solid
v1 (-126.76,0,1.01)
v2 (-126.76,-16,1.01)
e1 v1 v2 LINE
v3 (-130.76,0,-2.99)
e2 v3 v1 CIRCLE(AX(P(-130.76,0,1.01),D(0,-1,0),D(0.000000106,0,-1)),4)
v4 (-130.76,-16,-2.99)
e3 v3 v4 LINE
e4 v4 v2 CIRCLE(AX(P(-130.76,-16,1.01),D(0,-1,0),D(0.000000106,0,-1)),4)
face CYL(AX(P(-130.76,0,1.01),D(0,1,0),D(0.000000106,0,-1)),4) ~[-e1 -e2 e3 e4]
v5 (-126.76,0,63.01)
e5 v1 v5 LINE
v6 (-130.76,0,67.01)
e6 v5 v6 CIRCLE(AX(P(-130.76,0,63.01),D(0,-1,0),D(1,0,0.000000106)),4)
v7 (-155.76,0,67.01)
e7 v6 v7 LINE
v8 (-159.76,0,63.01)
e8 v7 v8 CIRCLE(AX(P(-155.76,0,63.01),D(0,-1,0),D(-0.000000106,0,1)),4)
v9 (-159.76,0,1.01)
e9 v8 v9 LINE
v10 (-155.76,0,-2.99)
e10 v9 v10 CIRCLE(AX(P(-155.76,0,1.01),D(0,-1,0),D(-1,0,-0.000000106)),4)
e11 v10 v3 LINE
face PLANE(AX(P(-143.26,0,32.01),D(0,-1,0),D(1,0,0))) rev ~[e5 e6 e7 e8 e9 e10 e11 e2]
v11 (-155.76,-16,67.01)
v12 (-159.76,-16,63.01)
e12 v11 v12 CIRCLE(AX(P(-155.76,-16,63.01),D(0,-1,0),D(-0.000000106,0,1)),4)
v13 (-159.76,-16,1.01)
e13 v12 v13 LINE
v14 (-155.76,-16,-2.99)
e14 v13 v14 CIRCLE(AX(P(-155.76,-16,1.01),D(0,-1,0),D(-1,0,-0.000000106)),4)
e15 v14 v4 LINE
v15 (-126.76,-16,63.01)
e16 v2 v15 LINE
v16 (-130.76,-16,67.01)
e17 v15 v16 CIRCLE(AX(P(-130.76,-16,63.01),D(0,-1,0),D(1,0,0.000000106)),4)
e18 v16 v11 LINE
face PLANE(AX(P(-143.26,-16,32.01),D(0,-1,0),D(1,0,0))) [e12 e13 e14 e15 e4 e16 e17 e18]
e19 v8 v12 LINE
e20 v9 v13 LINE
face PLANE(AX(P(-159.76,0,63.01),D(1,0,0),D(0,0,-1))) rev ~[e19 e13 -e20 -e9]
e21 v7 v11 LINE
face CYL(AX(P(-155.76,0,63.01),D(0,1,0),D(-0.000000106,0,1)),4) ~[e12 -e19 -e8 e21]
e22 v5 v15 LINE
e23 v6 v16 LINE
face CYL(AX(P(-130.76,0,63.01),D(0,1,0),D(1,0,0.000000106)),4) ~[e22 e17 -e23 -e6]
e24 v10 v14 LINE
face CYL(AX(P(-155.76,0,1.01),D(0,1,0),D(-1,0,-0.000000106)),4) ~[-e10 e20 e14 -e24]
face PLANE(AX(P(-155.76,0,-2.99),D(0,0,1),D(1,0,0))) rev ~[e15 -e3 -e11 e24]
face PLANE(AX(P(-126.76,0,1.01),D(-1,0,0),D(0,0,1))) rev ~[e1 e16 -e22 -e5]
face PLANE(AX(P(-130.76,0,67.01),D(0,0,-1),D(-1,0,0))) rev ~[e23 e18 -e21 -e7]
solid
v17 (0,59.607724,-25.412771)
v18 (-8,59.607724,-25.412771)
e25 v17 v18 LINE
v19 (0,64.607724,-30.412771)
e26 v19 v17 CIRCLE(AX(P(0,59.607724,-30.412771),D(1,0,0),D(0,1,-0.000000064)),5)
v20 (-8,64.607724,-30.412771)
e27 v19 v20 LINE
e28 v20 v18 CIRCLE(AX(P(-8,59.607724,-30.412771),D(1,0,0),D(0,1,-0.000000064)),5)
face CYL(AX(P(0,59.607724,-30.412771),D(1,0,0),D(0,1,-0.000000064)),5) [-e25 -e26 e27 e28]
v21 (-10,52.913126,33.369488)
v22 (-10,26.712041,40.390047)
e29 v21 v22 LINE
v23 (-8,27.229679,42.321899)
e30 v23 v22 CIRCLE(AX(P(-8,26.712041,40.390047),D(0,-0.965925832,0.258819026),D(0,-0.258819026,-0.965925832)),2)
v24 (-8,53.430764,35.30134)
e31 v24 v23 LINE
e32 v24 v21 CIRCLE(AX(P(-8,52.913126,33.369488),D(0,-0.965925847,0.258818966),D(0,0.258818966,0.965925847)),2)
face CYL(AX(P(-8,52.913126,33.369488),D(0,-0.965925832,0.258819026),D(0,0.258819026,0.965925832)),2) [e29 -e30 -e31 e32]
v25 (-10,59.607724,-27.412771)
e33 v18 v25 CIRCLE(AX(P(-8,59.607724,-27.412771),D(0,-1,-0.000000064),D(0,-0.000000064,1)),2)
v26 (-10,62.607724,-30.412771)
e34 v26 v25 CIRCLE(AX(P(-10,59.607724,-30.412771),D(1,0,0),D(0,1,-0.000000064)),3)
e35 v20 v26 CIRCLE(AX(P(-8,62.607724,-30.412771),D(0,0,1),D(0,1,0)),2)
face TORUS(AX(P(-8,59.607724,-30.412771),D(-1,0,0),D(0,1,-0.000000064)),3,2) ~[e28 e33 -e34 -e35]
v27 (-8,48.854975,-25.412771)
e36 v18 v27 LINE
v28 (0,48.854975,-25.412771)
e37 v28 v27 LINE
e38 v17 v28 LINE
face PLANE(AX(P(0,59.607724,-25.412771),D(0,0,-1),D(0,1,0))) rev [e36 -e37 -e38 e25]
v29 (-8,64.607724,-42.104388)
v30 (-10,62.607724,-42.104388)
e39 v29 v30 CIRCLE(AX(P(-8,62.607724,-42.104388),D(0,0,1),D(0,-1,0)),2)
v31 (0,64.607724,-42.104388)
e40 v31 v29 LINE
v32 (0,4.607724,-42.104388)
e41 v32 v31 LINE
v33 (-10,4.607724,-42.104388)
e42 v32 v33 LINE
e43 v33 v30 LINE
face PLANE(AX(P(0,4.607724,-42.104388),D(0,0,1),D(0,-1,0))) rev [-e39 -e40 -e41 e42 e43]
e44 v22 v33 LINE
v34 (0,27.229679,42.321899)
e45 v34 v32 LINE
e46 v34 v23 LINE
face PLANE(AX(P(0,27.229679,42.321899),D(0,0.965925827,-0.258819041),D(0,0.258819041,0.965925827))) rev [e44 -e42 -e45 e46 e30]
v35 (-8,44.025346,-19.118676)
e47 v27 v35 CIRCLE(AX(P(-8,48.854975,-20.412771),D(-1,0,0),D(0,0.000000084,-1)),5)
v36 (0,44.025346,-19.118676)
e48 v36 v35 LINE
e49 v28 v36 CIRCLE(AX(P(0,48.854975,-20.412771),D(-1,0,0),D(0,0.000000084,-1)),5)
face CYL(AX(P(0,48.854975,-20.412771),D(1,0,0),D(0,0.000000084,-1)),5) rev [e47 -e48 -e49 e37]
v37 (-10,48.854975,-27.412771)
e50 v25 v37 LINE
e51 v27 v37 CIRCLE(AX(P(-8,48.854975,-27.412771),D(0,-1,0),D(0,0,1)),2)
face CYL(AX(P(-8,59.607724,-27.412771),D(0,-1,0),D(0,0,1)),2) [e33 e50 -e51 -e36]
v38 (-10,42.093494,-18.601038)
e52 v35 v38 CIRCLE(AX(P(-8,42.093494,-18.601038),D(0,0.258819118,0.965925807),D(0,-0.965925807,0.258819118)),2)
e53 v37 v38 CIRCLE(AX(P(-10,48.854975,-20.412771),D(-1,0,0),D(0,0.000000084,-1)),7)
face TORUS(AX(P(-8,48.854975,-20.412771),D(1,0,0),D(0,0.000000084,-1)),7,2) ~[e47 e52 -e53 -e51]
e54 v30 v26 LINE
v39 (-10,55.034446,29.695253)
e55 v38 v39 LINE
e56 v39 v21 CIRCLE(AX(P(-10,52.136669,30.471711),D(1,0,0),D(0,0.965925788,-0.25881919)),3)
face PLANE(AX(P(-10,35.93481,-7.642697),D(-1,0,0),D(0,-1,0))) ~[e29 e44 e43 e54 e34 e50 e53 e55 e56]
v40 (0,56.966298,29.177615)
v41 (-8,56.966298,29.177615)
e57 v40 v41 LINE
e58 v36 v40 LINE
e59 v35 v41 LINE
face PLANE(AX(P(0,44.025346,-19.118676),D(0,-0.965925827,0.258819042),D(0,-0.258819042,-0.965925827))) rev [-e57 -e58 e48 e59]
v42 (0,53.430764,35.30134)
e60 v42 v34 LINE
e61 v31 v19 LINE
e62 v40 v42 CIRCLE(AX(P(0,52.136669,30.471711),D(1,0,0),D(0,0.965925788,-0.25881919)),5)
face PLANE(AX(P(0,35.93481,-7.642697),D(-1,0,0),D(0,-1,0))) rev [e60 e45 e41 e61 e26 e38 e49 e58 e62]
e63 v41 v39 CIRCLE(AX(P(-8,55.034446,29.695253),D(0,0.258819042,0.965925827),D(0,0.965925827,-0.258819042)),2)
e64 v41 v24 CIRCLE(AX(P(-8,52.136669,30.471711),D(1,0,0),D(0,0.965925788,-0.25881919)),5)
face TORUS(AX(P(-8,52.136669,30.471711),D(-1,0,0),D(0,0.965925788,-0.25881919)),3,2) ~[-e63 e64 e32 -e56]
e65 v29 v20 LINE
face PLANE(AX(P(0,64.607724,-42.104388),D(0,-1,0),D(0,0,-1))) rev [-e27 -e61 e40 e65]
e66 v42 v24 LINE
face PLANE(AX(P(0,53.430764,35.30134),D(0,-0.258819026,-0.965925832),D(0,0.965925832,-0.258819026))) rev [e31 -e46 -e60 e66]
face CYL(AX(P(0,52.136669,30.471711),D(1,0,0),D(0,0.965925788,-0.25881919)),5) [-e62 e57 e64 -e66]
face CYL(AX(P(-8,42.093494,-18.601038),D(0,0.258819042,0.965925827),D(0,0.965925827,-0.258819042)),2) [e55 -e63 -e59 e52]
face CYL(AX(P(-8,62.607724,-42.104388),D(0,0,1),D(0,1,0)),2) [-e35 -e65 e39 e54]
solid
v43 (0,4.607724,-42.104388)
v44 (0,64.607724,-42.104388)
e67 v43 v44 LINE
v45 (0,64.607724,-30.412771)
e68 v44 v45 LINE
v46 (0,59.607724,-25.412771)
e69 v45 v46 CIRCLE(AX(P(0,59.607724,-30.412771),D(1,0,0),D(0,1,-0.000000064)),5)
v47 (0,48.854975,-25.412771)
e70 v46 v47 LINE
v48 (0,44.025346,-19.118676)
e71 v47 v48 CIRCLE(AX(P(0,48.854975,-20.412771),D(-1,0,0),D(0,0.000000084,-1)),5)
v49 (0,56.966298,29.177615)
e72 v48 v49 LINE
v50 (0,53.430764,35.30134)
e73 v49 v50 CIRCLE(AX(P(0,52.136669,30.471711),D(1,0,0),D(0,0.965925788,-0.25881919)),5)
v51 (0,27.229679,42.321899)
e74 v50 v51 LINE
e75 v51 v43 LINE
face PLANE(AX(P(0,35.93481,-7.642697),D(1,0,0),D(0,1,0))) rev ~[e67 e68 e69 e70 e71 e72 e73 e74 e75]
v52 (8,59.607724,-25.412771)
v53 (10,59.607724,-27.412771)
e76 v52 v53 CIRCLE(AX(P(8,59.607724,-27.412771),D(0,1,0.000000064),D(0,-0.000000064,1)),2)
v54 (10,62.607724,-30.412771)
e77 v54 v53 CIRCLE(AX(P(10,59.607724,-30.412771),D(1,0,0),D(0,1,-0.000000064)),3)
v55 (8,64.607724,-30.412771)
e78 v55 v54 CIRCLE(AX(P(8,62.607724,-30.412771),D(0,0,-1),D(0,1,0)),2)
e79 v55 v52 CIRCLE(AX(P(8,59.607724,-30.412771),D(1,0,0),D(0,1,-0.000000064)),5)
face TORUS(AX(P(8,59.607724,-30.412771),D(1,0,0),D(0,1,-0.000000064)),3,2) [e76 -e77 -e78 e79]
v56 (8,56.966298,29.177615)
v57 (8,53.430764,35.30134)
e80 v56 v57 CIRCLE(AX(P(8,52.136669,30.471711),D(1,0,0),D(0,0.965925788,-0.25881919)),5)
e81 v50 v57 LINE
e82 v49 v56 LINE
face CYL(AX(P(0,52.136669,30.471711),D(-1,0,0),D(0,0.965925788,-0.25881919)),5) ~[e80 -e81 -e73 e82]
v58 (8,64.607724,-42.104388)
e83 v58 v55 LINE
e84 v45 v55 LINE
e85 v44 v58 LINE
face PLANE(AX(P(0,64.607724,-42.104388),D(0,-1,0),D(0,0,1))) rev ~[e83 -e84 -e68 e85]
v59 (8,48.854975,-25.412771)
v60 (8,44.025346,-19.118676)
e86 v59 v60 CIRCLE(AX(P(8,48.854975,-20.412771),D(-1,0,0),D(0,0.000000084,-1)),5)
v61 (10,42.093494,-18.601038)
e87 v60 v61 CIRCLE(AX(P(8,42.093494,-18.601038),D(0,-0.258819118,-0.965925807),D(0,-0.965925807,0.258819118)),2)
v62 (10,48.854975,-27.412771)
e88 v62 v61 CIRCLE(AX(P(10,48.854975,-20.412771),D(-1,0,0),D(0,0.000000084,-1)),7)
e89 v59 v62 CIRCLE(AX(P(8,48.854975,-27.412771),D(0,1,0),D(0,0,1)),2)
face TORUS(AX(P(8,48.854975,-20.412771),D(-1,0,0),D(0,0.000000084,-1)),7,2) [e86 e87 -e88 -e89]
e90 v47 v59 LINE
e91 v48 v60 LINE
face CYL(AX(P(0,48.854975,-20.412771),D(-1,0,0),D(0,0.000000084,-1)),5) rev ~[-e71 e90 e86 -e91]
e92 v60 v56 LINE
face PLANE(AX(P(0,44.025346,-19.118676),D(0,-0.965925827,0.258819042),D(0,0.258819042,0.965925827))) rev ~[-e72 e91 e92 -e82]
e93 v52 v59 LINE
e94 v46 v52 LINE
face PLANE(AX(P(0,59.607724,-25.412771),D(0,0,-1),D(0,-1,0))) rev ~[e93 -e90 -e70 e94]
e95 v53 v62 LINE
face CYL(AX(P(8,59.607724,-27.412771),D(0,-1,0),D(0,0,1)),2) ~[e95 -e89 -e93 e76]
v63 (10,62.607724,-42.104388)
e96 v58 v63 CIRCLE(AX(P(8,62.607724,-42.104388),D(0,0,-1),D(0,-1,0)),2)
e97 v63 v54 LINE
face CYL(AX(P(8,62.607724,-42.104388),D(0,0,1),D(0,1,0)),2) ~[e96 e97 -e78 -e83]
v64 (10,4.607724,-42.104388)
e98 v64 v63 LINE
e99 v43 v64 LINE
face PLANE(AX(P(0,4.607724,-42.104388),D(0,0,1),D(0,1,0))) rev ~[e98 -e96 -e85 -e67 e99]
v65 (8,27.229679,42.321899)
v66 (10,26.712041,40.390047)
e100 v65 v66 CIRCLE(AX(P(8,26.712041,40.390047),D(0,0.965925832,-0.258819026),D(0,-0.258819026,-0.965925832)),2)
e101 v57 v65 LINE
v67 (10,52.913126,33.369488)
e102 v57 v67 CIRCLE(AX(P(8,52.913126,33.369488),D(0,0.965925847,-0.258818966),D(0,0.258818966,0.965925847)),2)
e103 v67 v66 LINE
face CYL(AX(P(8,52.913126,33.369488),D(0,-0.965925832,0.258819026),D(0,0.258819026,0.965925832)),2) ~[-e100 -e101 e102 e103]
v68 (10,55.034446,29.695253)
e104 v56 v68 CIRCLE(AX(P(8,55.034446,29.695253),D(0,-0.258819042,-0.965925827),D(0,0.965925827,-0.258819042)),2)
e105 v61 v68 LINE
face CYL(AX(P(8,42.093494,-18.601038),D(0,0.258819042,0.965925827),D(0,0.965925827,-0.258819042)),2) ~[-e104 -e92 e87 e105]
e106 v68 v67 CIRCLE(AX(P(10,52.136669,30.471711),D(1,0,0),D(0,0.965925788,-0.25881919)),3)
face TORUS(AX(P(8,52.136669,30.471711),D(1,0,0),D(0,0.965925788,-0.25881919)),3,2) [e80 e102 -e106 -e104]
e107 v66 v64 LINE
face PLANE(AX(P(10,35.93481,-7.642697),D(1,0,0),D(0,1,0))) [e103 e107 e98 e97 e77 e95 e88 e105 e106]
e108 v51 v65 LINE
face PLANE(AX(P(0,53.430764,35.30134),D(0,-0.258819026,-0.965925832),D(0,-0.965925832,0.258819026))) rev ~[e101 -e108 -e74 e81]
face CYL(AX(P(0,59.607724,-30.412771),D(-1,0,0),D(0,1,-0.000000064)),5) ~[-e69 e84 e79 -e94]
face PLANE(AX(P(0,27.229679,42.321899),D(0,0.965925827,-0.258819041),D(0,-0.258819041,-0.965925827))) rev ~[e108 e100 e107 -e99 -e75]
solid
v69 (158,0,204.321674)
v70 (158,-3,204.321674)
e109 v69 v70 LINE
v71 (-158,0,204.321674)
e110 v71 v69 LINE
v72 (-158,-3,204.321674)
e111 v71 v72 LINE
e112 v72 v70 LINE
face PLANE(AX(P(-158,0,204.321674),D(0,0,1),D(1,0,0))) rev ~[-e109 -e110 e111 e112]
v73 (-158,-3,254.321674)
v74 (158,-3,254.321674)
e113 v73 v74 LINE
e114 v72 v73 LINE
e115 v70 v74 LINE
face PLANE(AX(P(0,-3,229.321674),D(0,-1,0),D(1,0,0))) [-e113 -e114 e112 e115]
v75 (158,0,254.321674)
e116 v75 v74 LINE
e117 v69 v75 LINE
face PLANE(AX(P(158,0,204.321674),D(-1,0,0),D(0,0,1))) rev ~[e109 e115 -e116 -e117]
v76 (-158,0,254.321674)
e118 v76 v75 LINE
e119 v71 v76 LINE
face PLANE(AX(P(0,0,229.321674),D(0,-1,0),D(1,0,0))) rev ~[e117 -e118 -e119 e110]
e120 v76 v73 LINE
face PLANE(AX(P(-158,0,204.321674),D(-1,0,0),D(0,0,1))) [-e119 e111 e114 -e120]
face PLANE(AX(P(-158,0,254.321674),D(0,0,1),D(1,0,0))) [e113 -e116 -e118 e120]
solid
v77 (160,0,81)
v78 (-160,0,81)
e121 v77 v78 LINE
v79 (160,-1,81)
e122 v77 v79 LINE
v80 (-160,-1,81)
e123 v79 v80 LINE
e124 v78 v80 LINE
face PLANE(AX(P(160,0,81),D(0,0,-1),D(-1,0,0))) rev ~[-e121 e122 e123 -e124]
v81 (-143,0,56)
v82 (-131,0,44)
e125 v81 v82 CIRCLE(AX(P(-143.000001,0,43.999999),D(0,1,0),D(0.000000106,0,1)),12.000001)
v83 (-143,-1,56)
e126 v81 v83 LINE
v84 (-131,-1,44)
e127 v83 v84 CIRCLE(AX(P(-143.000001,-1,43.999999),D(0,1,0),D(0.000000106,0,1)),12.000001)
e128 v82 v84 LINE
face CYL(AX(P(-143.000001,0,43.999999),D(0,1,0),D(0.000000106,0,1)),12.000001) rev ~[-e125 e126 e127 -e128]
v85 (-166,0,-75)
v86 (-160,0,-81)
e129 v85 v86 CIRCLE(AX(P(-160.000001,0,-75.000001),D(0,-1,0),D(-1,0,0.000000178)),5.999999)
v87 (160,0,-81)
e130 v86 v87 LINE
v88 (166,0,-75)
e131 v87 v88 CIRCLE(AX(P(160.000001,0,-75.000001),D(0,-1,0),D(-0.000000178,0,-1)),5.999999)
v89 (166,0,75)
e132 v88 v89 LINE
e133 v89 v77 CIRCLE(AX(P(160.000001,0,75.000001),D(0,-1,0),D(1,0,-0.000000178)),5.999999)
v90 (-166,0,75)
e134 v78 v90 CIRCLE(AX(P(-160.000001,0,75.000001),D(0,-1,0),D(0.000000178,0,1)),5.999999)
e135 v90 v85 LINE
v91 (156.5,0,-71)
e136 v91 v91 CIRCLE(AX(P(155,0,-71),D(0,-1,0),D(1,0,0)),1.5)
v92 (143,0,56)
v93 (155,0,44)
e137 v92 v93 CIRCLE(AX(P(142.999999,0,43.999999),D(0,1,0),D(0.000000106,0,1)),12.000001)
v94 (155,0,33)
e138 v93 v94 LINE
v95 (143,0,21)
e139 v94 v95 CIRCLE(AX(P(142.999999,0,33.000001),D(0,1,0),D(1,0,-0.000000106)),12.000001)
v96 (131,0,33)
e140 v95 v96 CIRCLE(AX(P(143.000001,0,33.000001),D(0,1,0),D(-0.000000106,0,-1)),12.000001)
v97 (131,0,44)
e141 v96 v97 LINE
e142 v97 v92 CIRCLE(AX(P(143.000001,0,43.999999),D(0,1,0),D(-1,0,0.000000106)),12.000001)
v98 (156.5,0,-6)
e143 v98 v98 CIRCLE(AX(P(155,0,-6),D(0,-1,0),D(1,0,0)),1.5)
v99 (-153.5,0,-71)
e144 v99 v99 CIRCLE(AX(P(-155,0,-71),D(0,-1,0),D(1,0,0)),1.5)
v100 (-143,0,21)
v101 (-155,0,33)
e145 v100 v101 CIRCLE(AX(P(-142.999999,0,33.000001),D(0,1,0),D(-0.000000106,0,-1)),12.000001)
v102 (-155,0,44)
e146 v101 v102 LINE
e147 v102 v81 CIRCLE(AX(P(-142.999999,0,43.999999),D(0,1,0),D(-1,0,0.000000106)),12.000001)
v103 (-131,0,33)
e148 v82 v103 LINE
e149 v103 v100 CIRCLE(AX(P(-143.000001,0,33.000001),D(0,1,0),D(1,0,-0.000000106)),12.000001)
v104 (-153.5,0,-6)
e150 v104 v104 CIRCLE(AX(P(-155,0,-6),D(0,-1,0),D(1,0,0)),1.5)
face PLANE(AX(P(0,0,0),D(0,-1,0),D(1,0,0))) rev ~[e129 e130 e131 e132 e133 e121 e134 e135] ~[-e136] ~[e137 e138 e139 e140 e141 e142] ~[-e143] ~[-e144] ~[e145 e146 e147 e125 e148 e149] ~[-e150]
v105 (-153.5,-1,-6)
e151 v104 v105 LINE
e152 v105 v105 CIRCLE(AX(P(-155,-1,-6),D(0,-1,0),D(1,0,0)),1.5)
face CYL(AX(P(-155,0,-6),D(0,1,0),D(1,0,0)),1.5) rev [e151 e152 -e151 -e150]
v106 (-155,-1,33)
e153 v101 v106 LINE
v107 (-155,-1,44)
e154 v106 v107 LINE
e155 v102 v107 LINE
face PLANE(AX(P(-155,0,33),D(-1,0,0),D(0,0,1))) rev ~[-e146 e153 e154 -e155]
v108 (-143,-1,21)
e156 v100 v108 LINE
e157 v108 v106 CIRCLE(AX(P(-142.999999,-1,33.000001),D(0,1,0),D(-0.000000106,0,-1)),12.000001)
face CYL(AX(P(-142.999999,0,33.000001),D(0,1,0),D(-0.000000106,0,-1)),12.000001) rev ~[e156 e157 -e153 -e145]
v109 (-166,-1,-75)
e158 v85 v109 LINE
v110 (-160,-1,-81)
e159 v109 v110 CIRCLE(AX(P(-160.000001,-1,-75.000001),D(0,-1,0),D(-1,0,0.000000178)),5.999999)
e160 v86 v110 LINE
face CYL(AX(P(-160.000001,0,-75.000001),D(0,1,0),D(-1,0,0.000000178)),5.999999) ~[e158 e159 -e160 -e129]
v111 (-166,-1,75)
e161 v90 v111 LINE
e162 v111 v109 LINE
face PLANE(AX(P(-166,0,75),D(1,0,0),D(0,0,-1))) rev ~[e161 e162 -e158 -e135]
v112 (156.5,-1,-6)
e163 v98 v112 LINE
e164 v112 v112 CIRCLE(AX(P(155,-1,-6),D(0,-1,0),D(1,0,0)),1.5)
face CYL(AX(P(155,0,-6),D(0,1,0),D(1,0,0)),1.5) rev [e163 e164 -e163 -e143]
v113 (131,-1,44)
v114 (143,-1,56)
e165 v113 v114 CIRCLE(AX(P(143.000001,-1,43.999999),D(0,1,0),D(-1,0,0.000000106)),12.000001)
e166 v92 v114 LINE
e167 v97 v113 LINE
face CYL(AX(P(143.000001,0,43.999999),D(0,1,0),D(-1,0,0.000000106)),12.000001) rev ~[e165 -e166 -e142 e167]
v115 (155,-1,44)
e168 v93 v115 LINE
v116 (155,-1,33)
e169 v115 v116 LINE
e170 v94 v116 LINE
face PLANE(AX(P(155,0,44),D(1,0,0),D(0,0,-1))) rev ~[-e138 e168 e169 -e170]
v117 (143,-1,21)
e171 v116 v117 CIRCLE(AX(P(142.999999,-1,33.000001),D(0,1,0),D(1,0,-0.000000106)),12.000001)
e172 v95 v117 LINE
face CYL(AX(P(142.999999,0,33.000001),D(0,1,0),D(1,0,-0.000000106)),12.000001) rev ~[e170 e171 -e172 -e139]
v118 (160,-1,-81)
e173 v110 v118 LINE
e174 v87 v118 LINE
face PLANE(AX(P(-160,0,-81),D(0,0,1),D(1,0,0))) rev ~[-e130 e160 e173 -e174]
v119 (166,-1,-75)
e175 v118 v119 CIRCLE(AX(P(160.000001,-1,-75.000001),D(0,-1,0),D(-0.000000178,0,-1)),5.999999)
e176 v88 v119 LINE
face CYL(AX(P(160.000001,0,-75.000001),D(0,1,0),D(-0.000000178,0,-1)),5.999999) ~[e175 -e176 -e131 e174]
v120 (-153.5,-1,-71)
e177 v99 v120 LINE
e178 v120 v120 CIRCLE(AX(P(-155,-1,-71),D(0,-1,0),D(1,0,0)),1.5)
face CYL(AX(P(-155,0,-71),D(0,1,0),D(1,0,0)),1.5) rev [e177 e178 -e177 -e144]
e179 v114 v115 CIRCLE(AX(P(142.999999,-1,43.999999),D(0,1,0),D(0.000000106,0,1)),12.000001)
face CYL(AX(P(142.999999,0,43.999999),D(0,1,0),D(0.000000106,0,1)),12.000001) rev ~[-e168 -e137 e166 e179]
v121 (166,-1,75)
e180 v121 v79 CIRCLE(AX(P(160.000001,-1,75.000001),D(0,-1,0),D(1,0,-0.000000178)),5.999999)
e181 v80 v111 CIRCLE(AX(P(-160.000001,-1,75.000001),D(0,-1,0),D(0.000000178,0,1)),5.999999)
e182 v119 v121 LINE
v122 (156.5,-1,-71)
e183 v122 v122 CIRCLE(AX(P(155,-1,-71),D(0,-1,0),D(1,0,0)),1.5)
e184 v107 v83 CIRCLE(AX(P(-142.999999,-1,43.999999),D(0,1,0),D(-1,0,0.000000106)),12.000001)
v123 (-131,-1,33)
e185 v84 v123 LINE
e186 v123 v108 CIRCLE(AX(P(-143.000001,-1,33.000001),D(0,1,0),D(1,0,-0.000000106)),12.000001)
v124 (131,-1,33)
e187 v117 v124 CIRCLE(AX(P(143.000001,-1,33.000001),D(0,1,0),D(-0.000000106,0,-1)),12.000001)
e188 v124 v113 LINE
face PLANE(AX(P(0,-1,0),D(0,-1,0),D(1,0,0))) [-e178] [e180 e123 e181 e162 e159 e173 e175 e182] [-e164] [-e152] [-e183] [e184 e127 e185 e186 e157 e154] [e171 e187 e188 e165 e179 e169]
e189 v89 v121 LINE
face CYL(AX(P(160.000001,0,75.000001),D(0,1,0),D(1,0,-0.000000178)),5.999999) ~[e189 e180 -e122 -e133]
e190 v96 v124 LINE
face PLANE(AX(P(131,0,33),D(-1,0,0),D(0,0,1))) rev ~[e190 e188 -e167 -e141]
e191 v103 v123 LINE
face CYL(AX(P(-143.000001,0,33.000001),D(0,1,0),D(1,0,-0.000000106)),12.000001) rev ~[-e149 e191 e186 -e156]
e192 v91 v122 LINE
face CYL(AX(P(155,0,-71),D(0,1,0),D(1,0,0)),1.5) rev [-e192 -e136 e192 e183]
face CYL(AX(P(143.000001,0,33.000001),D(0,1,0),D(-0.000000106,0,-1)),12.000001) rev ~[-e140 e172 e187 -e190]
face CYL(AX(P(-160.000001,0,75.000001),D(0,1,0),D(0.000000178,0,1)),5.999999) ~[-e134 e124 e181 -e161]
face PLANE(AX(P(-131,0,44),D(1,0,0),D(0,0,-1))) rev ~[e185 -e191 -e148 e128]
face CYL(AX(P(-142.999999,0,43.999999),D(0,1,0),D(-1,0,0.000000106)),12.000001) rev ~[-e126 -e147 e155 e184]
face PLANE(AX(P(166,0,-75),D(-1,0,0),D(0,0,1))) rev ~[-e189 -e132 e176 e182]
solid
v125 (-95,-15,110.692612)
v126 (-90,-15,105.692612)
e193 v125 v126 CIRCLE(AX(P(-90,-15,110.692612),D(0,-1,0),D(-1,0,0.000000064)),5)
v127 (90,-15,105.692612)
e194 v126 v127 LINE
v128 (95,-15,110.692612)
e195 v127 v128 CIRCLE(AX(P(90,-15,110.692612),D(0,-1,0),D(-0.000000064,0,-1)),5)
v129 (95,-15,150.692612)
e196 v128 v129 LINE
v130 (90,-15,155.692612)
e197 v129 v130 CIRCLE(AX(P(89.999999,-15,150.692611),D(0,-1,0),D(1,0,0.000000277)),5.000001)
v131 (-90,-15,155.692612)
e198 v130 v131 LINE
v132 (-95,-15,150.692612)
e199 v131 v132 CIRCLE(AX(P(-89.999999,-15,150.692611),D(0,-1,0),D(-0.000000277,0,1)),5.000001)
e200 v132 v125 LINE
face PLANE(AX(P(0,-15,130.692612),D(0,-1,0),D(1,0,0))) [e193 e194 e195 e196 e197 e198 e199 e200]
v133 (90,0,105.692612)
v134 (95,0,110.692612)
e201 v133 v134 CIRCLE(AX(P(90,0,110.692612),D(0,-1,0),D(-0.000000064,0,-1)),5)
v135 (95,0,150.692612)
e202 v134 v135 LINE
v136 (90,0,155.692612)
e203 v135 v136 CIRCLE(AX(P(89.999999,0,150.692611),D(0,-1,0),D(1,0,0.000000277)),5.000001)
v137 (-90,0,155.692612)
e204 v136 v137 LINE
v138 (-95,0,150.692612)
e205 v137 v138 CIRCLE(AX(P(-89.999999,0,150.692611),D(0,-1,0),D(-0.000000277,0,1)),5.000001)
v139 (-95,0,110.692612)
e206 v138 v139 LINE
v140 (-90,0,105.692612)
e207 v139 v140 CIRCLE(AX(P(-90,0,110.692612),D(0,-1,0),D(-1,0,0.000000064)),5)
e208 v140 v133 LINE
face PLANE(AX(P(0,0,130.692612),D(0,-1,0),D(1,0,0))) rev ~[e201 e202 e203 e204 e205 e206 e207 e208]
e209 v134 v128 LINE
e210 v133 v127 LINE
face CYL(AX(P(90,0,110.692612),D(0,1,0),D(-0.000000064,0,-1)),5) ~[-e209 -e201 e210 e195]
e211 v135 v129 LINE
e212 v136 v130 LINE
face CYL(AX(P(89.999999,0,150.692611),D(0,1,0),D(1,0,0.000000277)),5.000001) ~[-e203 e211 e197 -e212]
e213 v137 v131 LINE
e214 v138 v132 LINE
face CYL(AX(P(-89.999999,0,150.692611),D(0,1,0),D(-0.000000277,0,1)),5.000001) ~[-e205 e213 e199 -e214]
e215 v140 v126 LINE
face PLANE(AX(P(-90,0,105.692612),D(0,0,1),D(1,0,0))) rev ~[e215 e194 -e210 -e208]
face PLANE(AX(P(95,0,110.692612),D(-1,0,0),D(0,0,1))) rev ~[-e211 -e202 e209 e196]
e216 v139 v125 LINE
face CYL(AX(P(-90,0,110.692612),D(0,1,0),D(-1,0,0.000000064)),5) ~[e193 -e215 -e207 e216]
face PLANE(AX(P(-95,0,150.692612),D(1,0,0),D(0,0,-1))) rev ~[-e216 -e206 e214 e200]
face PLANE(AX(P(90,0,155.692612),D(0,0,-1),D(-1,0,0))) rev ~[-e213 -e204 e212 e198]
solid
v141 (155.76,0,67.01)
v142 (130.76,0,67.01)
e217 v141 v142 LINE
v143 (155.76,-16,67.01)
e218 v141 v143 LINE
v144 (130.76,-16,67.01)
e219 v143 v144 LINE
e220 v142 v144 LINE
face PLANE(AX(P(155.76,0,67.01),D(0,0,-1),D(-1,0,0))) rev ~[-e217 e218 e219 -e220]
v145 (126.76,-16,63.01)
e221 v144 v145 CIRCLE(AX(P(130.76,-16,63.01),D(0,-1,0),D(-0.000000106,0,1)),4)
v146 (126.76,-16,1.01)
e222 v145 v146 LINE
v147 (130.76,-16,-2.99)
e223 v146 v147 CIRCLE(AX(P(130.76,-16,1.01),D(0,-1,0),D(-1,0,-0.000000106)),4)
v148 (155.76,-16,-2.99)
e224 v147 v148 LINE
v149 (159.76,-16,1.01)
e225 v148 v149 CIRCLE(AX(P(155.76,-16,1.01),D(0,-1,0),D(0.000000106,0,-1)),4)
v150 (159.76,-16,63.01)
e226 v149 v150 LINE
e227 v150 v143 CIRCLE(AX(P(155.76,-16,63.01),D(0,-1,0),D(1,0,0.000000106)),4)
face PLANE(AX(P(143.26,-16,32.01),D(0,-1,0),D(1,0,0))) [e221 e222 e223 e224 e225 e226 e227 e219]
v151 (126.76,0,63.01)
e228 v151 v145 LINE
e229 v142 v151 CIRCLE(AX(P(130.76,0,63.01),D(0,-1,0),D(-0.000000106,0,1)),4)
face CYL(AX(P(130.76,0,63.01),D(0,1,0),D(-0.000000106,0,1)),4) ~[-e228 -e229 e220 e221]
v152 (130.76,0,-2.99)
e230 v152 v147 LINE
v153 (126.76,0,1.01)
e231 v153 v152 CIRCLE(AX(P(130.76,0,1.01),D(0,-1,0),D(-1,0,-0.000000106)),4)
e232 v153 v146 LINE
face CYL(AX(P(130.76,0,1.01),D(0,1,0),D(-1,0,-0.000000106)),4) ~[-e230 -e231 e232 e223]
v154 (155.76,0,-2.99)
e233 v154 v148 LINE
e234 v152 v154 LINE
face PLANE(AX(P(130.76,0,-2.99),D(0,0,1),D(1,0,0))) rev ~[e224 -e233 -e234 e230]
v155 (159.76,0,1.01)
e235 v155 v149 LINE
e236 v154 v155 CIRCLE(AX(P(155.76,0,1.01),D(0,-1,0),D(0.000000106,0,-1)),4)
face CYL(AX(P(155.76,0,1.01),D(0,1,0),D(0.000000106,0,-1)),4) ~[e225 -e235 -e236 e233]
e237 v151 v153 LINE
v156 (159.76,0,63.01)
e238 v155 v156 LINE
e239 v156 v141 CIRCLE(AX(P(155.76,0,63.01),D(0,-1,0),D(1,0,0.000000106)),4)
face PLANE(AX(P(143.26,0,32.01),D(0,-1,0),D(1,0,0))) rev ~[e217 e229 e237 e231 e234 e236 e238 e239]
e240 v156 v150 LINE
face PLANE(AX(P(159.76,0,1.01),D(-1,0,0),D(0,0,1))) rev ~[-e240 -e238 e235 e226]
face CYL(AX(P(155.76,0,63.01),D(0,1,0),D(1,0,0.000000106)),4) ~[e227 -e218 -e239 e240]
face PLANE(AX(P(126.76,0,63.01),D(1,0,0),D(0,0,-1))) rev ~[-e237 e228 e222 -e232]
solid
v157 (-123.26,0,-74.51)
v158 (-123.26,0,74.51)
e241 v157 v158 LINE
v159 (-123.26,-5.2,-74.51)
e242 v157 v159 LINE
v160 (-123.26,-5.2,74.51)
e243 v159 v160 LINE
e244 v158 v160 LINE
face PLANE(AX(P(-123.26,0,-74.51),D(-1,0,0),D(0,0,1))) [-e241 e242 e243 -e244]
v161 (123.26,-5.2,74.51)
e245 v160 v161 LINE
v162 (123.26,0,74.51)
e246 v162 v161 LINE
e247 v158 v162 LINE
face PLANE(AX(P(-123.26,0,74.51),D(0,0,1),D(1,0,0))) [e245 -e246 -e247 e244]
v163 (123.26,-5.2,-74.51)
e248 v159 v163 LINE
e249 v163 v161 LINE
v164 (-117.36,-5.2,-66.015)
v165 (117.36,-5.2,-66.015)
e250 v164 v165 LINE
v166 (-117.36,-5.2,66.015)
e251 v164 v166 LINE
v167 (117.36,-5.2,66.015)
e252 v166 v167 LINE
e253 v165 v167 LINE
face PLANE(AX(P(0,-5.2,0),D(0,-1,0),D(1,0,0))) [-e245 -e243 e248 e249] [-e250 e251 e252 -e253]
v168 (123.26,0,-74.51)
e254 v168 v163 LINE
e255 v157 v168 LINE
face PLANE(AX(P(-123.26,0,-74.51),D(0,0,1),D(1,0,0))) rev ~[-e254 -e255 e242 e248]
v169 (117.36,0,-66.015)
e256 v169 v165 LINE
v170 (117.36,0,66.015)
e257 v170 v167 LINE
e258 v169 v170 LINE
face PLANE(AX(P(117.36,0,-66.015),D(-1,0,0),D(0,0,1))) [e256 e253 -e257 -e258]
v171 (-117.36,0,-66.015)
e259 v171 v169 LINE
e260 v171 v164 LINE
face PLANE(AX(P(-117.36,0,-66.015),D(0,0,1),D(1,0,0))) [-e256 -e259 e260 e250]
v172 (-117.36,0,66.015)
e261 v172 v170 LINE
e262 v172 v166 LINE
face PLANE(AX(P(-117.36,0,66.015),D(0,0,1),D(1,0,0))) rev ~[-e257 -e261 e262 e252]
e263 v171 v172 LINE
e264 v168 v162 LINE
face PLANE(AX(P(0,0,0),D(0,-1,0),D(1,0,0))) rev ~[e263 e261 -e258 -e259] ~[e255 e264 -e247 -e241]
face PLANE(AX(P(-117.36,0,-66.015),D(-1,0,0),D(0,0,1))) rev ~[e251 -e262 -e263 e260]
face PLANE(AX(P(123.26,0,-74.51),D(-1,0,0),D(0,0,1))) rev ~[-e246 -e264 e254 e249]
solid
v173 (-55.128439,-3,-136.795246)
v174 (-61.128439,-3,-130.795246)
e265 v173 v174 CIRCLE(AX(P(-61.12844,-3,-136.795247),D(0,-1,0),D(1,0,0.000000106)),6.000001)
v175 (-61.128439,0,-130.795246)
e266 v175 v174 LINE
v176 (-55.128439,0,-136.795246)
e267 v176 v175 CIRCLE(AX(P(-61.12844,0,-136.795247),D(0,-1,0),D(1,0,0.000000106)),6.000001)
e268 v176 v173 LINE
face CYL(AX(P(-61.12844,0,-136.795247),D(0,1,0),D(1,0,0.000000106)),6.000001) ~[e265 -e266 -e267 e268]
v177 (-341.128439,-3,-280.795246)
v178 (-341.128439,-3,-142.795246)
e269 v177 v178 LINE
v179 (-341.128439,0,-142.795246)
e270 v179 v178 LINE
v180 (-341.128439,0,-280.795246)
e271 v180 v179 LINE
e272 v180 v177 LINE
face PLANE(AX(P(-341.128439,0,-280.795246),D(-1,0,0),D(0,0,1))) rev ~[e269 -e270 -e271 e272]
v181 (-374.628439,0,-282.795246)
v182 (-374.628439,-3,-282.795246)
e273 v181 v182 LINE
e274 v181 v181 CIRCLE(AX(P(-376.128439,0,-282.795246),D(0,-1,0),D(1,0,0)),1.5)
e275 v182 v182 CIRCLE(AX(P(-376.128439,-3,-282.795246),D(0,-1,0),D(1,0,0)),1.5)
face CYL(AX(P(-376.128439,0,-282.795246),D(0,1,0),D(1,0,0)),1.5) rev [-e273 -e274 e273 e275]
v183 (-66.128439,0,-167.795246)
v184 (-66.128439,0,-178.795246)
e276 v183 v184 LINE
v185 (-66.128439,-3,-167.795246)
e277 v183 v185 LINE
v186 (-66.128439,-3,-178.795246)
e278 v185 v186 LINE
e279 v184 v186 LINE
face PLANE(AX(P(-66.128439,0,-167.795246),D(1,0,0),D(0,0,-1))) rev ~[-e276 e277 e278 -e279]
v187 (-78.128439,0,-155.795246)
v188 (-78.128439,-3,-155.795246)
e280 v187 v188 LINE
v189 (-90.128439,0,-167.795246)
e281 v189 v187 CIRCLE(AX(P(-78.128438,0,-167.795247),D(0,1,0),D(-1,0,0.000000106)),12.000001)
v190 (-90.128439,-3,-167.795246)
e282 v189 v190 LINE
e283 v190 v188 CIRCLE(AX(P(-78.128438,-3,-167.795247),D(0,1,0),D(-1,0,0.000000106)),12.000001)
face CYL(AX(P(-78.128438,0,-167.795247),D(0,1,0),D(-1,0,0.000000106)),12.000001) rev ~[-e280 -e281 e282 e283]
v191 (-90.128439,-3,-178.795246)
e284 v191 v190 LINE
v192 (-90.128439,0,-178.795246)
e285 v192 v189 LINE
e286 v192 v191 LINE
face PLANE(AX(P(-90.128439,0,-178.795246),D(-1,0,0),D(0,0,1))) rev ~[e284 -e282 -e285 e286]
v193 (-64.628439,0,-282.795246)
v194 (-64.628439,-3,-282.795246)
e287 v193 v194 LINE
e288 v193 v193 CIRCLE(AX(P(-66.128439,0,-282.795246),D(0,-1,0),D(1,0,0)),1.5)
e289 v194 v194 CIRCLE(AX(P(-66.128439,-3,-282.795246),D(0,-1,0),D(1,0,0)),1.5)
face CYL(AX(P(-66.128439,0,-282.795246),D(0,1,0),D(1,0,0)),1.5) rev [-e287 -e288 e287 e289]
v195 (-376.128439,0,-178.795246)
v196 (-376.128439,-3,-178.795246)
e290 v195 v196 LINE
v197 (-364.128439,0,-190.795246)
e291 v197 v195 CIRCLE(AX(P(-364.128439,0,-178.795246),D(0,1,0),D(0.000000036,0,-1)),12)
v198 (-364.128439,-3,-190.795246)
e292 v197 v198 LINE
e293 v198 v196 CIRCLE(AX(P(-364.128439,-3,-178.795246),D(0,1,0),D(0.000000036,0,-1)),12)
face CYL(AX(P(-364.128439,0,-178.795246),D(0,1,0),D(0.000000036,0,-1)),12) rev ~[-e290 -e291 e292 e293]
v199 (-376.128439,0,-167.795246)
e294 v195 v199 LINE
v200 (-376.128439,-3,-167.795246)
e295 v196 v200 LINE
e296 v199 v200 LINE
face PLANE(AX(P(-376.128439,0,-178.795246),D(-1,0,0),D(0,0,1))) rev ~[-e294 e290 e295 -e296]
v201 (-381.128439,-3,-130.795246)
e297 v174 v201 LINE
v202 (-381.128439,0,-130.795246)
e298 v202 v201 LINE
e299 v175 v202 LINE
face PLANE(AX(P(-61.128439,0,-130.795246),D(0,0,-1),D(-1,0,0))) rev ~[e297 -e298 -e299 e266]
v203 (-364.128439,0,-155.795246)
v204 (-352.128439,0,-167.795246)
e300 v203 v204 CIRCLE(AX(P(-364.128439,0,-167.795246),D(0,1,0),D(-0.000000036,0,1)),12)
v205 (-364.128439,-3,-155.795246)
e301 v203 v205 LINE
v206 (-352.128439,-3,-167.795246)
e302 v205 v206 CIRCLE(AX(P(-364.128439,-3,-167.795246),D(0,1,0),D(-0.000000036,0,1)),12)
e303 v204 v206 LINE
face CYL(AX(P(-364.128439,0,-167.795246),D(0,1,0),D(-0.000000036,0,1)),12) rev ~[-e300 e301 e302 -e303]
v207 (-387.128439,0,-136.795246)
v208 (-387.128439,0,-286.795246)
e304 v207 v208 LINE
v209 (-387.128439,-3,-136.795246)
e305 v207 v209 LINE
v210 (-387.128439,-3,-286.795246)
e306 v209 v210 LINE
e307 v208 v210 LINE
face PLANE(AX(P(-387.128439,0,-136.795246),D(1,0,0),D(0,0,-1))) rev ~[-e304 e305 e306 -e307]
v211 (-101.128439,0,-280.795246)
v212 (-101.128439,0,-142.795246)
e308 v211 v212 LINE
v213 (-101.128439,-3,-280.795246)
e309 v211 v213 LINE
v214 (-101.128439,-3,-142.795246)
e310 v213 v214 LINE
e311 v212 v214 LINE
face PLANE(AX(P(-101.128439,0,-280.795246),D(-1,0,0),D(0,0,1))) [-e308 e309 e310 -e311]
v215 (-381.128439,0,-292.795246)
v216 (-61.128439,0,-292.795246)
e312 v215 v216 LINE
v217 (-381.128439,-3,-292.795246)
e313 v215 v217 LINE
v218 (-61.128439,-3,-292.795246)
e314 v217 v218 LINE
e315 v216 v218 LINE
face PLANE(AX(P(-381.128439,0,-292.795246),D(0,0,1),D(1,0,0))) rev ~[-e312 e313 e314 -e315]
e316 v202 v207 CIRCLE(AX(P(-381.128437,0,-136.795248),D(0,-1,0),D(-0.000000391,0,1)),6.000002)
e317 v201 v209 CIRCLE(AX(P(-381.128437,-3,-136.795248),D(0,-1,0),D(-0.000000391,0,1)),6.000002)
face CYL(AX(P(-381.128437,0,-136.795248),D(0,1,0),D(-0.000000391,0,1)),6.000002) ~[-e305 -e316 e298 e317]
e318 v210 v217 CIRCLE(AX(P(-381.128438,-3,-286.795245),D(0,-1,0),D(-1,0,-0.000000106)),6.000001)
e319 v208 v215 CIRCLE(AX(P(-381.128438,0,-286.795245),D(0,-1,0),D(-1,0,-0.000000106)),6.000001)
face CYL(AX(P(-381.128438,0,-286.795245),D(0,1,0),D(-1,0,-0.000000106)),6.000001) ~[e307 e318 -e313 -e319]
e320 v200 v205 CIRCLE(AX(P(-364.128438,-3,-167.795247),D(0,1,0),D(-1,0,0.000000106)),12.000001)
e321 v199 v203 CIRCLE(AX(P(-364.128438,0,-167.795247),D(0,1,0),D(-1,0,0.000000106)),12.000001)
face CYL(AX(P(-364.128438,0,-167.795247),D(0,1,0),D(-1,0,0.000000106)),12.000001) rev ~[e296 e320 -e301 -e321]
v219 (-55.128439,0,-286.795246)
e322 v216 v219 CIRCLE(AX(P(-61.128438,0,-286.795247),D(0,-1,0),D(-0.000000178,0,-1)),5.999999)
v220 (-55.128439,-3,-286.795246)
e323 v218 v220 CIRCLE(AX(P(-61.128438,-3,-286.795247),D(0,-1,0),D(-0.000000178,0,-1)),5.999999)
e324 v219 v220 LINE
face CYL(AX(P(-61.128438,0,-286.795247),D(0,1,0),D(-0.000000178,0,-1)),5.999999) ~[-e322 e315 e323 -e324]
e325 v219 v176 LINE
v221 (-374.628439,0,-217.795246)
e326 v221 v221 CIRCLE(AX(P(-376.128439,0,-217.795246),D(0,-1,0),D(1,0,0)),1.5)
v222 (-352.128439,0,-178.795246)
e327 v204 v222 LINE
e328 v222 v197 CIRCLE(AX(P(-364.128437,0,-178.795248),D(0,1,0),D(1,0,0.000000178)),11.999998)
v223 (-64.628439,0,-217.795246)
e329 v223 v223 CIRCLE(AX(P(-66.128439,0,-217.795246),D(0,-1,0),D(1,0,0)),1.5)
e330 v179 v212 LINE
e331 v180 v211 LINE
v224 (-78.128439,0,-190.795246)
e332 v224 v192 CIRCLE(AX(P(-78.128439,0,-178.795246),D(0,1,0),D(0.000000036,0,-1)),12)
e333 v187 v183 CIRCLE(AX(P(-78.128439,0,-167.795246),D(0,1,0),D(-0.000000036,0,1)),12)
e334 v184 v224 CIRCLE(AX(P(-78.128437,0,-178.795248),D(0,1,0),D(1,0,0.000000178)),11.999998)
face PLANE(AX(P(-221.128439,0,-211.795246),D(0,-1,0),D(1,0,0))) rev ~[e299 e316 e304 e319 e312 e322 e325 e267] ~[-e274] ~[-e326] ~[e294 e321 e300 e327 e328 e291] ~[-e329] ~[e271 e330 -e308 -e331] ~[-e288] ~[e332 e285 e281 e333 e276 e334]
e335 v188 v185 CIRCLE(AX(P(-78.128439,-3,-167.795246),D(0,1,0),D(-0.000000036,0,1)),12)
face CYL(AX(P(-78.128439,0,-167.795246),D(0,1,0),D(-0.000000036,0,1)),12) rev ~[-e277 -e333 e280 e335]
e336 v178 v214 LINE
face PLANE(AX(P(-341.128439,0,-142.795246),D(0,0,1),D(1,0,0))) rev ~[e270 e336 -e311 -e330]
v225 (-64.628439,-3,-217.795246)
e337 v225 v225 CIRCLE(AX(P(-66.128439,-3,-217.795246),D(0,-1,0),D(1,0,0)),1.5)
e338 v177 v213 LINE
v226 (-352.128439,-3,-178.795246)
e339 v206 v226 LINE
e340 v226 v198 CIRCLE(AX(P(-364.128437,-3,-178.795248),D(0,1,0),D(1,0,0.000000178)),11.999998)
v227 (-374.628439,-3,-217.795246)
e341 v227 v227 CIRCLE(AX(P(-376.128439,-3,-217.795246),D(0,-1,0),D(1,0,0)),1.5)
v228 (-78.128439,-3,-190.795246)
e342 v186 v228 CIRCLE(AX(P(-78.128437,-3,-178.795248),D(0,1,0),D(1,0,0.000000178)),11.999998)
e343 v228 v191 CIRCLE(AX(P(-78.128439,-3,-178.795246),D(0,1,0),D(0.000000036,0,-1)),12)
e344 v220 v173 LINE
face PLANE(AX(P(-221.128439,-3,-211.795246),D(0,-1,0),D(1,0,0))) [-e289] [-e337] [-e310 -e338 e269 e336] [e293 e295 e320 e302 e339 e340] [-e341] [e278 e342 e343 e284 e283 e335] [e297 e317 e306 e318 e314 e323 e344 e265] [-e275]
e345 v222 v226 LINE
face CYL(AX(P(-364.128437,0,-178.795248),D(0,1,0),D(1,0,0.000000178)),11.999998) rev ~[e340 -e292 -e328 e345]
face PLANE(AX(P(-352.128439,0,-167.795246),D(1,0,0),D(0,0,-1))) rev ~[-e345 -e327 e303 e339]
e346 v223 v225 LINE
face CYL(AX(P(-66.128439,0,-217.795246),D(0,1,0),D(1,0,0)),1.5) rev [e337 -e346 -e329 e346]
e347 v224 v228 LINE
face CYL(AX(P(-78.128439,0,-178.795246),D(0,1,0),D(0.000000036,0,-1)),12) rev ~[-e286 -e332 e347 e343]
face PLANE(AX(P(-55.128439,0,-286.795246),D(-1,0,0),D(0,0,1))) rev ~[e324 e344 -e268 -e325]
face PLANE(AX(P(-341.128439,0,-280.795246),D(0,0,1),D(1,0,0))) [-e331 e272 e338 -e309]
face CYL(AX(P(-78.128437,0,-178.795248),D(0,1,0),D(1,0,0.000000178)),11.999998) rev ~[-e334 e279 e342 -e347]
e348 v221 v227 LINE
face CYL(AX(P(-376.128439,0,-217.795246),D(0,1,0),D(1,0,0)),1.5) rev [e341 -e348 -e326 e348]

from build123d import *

# Parameters (mm, degrees)
F5_DEPTH  = 10
F6_R      = 2
F7_DEPTH  = 16
F1_R      = 1.5
F8_DEPTH  = 1
F0_W      = 246.52
F0_H      = 149.02
F0_W_2    = 234.72
F0_H_2    = 132.03
F9_DEPTH  = 5.2
F11_DEPTH = 15
F12_W     = 316
F12_H     = 50
F13_DEPTH = 3
F14_R     = 1.5
F14_W     = 240
F14_H     = 138
F15_DEPTH = 3


with BuildPart() as f5:
    # F4 (on Right) → F5 (new body)
    with BuildSketch(Plane.YZ):
        with BuildLine():
            Line((53.430764, 35.30134), (27.229679, 42.321899))
            Line((27.229679, 42.321899), (4.607724, -42.104388))
            Line((4.607724, -42.104388), (64.607724, -42.104388))
            Line((64.607724, -42.104388), (64.607724, -30.412771))
            ThreePointArc((64.607724, -30.412771), (63.143258, -26.877237), (59.607724, -25.412771))
            Line((59.607724, -25.412771), (48.854975, -25.412771))
            ThreePointArc((48.854975, -25.412771), (44.888208, -23.456578), (44.025346, -19.118676))
            Line((44.025346, -19.118676), (56.966298, 29.177615))
            ThreePointArc((56.966298, 29.177615), (56.466796, 32.971711), (53.430764, 35.30134))
        make_face()
    extrude(amount=F5_DEPTH)

    # F6
    f6_edges = [f5.edges().sort_by_distance(p)[0] for p in [
        (10, 40.330222, 38.81162),
    ]]
    fillet(f6_edges, radius=F6_R)


with BuildPart() as f7:
    # F2 (on Front) → F7 (new body)
    with BuildSketch(Plane.XZ):
        with BuildLine():
            Line((-130.76, 67.01), (-155.76, 67.01))
            ThreePointArc((-155.76, 67.01), (-158.588427, 65.838427), (-159.76, 63.01))
            Line((-159.76, 63.01), (-159.76, 1.01))
            ThreePointArc((-159.76, 1.01), (-158.588427, -1.818427), (-155.76, -2.99))
            Line((-155.76, -2.99), (-130.76, -2.99))
            ThreePointArc((-130.76, -2.99), (-127.931573, -1.818427), (-126.76, 1.01))
            Line((-126.76, 1.01), (-126.76, 63.01))
            ThreePointArc((-126.76, 63.01), (-127.931573, 65.838427), (-130.76, 67.01))
        make_face()
        with BuildLine():
            Line((155.76, 67.01), (130.76, 67.01))
            ThreePointArc((130.76, 67.01), (127.931573, 65.838427), (126.76, 63.01))
            Line((126.76, 63.01), (126.76, 1.01))
            ThreePointArc((126.76, 1.01), (127.931573, -1.818427), (130.76, -2.99))
            Line((130.76, -2.99), (155.76, -2.99))
            ThreePointArc((155.76, -2.99), (158.588427, -1.818427), (159.76, 1.01))
            Line((159.76, 1.01), (159.76, 63.01))
            ThreePointArc((159.76, 63.01), (158.588427, 65.838427), (155.76, 67.01))
        make_face()
    extrude(amount=F7_DEPTH)


with BuildPart() as f8:
    # F1 (on Front) → F8 (new body)
    with BuildSketch(Plane.XZ):
        with BuildLine():
            Line((-160, -81), (160, -81))
            ThreePointArc((160, -81), (164.242641, -79.242641), (166, -75))
            Line((166, -75), (166, 75))
            ThreePointArc((166, 75), (164.242641, 79.242641), (160, 81))
            Line((160, 81), (-160, 81))
            ThreePointArc((-160, 81), (-164.242641, 79.242641), (-166, 75))
            Line((-166, 75), (-166, -75))
            ThreePointArc((-166, -75), (-164.242641, -79.242641), (-160, -81))
        make_face()
        with Locations((-155, -71)):
            Circle(F1_R, mode=Mode.SUBTRACT)
        with Locations((-155, -6)):
            Circle(F1_R, mode=Mode.SUBTRACT)
        with Locations((155, -71)):
            Circle(F1_R, mode=Mode.SUBTRACT)
        with Locations((155, -6)):
            Circle(F1_R, mode=Mode.SUBTRACT)
        with BuildLine():
            Line((-155, 33), (-155, 44))
            ThreePointArc((-155, 44), (-151.485281, 52.485281), (-143, 56))
            ThreePointArc((-143, 56), (-134.514719, 52.485281), (-131, 44))
            Line((-131, 44), (-131, 33))
            ThreePointArc((-131, 33), (-134.514719, 24.514719), (-143, 21))
            ThreePointArc((-143, 21), (-151.485281, 24.514719), (-155, 33))
        make_face(mode=Mode.SUBTRACT)
        with BuildLine():
            Line((131, 33), (131, 44))
            ThreePointArc((131, 44), (134.514719, 52.485281), (143, 56))
            ThreePointArc((143, 56), (151.485281, 52.485281), (155, 44))
            Line((155, 44), (155, 33))
            ThreePointArc((155, 33), (151.485281, 24.514719), (143, 21))
            ThreePointArc((143, 21), (134.514719, 24.514719), (131, 33))
        make_face(mode=Mode.SUBTRACT)
    extrude(amount=F8_DEPTH)


with BuildPart() as f9:
    # F0 (on Front) → F9 (new body)
    with BuildSketch(Plane.XZ):
        Rectangle(F0_W, F0_H)
        Rectangle(F0_W_2, F0_H_2, mode=Mode.SUBTRACT)
    extrude(amount=F9_DEPTH)


with BuildPart() as f10_1:
    # F10: instance of F5
    add(f5.part.mirror(Plane.YZ))


with BuildPart() as f11:
    # F3 (on Front) → F11 (new body)
    with BuildSketch(Plane.XZ):
        with BuildLine():
            Line((-95, 150.692612), (-95, 110.692612))
            ThreePointArc((-95, 110.692612), (-93.535534, 107.157078), (-90, 105.692612))
            Line((-90, 105.692612), (90, 105.692612))
            ThreePointArc((90, 105.692612), (93.535534, 107.157078), (95, 110.692612))
            Line((95, 110.692612), (95, 150.692612))
            ThreePointArc((95, 150.692612), (93.535534, 154.228145), (90, 155.692612))
            Line((90, 155.692612), (-90, 155.692612))
            ThreePointArc((-90, 155.692612), (-93.535534, 154.228145), (-95, 150.692612))
        make_face()
    extrude(amount=F11_DEPTH)


with BuildPart() as f13:
    # F12 (on Front) → F13 (new body)
    with BuildSketch(Plane.XZ):
        with Locations((0, 229.321674)):
            Rectangle(F12_W, F12_H)
    extrude(amount=F13_DEPTH)


with BuildPart() as f15:
    # F14 (on Front) → F15 (new body)
    with BuildSketch(Plane.XZ):
        with BuildLine():
            Line((-381.128439, -292.795246), (-61.128439, -292.795246))
            ThreePointArc((-61.128439, -292.795246), (-56.885798, -291.037887), (-55.128439, -286.795246))
            Line((-55.128439, -286.795246), (-55.128439, -136.795246))
            ThreePointArc((-55.128439, -136.795246), (-56.885798, -132.552606), (-61.128439, -130.795246))
            Line((-61.128439, -130.795246), (-381.128439, -130.795246))
            ThreePointArc((-381.128439, -130.795246), (-385.371079, -132.552606), (-387.128439, -136.795246))
            Line((-387.128439, -136.795246), (-387.128439, -286.795246))
            ThreePointArc((-387.128439, -286.795246), (-385.371079, -291.037887), (-381.128439, -292.795246))
        make_face()
        with Locations((-376.128439, -282.795246)):
            Circle(F14_R, mode=Mode.SUBTRACT)
        with Locations((-376.128439, -217.795246)):
            Circle(F14_R, mode=Mode.SUBTRACT)
        with Locations((-66.128439, -282.795246)):
            Circle(F14_R, mode=Mode.SUBTRACT)
        with Locations((-66.128439, -217.795246)):
            Circle(F14_R, mode=Mode.SUBTRACT)
        with BuildLine():
            Line((-376.128439, -178.795246), (-376.128439, -167.795246))
            ThreePointArc((-376.128439, -167.795246), (-372.61372, -159.309965), (-364.128439, -155.795246))
            ThreePointArc((-364.128439, -155.795246), (-355.643157, -159.309965), (-352.128439, -167.795246))
            Line((-352.128439, -167.795246), (-352.128439, -178.795246))
            ThreePointArc((-352.128439, -178.795246), (-355.643157, -187.280528), (-364.128439, -190.795246))
            ThreePointArc((-364.128439, -190.795246), (-372.61372, -187.280528), (-376.128439, -178.795246))
        make_face(mode=Mode.SUBTRACT)
        with Locations((-221.128439, -211.795246)):
            Rectangle(F14_W, F14_H, mode=Mode.SUBTRACT)
        with BuildLine():
            Line((-90.128439, -178.795246), (-90.128439, -167.795246))
            ThreePointArc((-90.128439, -167.795246), (-86.61372, -159.309965), (-78.128439, -155.795246))
            ThreePointArc((-78.128439, -155.795246), (-69.643157, -159.309965), (-66.128439, -167.795246))
            Line((-66.128439, -167.795246), (-66.128439, -178.795246))
            ThreePointArc((-66.128439, -178.795246), (-69.643157, -187.280528), (-78.128439, -190.795246))
            ThreePointArc((-78.128439, -190.795246), (-86.61372, -187.280528), (-90.128439, -178.795246))
        make_face(mode=Mode.SUBTRACT)
    extrude(amount=F15_DEPTH)


solid = Compound([f5.part, f7.part, f8.part, f9.part, f10_1.part, f11.part, f13.part, f15.part])
